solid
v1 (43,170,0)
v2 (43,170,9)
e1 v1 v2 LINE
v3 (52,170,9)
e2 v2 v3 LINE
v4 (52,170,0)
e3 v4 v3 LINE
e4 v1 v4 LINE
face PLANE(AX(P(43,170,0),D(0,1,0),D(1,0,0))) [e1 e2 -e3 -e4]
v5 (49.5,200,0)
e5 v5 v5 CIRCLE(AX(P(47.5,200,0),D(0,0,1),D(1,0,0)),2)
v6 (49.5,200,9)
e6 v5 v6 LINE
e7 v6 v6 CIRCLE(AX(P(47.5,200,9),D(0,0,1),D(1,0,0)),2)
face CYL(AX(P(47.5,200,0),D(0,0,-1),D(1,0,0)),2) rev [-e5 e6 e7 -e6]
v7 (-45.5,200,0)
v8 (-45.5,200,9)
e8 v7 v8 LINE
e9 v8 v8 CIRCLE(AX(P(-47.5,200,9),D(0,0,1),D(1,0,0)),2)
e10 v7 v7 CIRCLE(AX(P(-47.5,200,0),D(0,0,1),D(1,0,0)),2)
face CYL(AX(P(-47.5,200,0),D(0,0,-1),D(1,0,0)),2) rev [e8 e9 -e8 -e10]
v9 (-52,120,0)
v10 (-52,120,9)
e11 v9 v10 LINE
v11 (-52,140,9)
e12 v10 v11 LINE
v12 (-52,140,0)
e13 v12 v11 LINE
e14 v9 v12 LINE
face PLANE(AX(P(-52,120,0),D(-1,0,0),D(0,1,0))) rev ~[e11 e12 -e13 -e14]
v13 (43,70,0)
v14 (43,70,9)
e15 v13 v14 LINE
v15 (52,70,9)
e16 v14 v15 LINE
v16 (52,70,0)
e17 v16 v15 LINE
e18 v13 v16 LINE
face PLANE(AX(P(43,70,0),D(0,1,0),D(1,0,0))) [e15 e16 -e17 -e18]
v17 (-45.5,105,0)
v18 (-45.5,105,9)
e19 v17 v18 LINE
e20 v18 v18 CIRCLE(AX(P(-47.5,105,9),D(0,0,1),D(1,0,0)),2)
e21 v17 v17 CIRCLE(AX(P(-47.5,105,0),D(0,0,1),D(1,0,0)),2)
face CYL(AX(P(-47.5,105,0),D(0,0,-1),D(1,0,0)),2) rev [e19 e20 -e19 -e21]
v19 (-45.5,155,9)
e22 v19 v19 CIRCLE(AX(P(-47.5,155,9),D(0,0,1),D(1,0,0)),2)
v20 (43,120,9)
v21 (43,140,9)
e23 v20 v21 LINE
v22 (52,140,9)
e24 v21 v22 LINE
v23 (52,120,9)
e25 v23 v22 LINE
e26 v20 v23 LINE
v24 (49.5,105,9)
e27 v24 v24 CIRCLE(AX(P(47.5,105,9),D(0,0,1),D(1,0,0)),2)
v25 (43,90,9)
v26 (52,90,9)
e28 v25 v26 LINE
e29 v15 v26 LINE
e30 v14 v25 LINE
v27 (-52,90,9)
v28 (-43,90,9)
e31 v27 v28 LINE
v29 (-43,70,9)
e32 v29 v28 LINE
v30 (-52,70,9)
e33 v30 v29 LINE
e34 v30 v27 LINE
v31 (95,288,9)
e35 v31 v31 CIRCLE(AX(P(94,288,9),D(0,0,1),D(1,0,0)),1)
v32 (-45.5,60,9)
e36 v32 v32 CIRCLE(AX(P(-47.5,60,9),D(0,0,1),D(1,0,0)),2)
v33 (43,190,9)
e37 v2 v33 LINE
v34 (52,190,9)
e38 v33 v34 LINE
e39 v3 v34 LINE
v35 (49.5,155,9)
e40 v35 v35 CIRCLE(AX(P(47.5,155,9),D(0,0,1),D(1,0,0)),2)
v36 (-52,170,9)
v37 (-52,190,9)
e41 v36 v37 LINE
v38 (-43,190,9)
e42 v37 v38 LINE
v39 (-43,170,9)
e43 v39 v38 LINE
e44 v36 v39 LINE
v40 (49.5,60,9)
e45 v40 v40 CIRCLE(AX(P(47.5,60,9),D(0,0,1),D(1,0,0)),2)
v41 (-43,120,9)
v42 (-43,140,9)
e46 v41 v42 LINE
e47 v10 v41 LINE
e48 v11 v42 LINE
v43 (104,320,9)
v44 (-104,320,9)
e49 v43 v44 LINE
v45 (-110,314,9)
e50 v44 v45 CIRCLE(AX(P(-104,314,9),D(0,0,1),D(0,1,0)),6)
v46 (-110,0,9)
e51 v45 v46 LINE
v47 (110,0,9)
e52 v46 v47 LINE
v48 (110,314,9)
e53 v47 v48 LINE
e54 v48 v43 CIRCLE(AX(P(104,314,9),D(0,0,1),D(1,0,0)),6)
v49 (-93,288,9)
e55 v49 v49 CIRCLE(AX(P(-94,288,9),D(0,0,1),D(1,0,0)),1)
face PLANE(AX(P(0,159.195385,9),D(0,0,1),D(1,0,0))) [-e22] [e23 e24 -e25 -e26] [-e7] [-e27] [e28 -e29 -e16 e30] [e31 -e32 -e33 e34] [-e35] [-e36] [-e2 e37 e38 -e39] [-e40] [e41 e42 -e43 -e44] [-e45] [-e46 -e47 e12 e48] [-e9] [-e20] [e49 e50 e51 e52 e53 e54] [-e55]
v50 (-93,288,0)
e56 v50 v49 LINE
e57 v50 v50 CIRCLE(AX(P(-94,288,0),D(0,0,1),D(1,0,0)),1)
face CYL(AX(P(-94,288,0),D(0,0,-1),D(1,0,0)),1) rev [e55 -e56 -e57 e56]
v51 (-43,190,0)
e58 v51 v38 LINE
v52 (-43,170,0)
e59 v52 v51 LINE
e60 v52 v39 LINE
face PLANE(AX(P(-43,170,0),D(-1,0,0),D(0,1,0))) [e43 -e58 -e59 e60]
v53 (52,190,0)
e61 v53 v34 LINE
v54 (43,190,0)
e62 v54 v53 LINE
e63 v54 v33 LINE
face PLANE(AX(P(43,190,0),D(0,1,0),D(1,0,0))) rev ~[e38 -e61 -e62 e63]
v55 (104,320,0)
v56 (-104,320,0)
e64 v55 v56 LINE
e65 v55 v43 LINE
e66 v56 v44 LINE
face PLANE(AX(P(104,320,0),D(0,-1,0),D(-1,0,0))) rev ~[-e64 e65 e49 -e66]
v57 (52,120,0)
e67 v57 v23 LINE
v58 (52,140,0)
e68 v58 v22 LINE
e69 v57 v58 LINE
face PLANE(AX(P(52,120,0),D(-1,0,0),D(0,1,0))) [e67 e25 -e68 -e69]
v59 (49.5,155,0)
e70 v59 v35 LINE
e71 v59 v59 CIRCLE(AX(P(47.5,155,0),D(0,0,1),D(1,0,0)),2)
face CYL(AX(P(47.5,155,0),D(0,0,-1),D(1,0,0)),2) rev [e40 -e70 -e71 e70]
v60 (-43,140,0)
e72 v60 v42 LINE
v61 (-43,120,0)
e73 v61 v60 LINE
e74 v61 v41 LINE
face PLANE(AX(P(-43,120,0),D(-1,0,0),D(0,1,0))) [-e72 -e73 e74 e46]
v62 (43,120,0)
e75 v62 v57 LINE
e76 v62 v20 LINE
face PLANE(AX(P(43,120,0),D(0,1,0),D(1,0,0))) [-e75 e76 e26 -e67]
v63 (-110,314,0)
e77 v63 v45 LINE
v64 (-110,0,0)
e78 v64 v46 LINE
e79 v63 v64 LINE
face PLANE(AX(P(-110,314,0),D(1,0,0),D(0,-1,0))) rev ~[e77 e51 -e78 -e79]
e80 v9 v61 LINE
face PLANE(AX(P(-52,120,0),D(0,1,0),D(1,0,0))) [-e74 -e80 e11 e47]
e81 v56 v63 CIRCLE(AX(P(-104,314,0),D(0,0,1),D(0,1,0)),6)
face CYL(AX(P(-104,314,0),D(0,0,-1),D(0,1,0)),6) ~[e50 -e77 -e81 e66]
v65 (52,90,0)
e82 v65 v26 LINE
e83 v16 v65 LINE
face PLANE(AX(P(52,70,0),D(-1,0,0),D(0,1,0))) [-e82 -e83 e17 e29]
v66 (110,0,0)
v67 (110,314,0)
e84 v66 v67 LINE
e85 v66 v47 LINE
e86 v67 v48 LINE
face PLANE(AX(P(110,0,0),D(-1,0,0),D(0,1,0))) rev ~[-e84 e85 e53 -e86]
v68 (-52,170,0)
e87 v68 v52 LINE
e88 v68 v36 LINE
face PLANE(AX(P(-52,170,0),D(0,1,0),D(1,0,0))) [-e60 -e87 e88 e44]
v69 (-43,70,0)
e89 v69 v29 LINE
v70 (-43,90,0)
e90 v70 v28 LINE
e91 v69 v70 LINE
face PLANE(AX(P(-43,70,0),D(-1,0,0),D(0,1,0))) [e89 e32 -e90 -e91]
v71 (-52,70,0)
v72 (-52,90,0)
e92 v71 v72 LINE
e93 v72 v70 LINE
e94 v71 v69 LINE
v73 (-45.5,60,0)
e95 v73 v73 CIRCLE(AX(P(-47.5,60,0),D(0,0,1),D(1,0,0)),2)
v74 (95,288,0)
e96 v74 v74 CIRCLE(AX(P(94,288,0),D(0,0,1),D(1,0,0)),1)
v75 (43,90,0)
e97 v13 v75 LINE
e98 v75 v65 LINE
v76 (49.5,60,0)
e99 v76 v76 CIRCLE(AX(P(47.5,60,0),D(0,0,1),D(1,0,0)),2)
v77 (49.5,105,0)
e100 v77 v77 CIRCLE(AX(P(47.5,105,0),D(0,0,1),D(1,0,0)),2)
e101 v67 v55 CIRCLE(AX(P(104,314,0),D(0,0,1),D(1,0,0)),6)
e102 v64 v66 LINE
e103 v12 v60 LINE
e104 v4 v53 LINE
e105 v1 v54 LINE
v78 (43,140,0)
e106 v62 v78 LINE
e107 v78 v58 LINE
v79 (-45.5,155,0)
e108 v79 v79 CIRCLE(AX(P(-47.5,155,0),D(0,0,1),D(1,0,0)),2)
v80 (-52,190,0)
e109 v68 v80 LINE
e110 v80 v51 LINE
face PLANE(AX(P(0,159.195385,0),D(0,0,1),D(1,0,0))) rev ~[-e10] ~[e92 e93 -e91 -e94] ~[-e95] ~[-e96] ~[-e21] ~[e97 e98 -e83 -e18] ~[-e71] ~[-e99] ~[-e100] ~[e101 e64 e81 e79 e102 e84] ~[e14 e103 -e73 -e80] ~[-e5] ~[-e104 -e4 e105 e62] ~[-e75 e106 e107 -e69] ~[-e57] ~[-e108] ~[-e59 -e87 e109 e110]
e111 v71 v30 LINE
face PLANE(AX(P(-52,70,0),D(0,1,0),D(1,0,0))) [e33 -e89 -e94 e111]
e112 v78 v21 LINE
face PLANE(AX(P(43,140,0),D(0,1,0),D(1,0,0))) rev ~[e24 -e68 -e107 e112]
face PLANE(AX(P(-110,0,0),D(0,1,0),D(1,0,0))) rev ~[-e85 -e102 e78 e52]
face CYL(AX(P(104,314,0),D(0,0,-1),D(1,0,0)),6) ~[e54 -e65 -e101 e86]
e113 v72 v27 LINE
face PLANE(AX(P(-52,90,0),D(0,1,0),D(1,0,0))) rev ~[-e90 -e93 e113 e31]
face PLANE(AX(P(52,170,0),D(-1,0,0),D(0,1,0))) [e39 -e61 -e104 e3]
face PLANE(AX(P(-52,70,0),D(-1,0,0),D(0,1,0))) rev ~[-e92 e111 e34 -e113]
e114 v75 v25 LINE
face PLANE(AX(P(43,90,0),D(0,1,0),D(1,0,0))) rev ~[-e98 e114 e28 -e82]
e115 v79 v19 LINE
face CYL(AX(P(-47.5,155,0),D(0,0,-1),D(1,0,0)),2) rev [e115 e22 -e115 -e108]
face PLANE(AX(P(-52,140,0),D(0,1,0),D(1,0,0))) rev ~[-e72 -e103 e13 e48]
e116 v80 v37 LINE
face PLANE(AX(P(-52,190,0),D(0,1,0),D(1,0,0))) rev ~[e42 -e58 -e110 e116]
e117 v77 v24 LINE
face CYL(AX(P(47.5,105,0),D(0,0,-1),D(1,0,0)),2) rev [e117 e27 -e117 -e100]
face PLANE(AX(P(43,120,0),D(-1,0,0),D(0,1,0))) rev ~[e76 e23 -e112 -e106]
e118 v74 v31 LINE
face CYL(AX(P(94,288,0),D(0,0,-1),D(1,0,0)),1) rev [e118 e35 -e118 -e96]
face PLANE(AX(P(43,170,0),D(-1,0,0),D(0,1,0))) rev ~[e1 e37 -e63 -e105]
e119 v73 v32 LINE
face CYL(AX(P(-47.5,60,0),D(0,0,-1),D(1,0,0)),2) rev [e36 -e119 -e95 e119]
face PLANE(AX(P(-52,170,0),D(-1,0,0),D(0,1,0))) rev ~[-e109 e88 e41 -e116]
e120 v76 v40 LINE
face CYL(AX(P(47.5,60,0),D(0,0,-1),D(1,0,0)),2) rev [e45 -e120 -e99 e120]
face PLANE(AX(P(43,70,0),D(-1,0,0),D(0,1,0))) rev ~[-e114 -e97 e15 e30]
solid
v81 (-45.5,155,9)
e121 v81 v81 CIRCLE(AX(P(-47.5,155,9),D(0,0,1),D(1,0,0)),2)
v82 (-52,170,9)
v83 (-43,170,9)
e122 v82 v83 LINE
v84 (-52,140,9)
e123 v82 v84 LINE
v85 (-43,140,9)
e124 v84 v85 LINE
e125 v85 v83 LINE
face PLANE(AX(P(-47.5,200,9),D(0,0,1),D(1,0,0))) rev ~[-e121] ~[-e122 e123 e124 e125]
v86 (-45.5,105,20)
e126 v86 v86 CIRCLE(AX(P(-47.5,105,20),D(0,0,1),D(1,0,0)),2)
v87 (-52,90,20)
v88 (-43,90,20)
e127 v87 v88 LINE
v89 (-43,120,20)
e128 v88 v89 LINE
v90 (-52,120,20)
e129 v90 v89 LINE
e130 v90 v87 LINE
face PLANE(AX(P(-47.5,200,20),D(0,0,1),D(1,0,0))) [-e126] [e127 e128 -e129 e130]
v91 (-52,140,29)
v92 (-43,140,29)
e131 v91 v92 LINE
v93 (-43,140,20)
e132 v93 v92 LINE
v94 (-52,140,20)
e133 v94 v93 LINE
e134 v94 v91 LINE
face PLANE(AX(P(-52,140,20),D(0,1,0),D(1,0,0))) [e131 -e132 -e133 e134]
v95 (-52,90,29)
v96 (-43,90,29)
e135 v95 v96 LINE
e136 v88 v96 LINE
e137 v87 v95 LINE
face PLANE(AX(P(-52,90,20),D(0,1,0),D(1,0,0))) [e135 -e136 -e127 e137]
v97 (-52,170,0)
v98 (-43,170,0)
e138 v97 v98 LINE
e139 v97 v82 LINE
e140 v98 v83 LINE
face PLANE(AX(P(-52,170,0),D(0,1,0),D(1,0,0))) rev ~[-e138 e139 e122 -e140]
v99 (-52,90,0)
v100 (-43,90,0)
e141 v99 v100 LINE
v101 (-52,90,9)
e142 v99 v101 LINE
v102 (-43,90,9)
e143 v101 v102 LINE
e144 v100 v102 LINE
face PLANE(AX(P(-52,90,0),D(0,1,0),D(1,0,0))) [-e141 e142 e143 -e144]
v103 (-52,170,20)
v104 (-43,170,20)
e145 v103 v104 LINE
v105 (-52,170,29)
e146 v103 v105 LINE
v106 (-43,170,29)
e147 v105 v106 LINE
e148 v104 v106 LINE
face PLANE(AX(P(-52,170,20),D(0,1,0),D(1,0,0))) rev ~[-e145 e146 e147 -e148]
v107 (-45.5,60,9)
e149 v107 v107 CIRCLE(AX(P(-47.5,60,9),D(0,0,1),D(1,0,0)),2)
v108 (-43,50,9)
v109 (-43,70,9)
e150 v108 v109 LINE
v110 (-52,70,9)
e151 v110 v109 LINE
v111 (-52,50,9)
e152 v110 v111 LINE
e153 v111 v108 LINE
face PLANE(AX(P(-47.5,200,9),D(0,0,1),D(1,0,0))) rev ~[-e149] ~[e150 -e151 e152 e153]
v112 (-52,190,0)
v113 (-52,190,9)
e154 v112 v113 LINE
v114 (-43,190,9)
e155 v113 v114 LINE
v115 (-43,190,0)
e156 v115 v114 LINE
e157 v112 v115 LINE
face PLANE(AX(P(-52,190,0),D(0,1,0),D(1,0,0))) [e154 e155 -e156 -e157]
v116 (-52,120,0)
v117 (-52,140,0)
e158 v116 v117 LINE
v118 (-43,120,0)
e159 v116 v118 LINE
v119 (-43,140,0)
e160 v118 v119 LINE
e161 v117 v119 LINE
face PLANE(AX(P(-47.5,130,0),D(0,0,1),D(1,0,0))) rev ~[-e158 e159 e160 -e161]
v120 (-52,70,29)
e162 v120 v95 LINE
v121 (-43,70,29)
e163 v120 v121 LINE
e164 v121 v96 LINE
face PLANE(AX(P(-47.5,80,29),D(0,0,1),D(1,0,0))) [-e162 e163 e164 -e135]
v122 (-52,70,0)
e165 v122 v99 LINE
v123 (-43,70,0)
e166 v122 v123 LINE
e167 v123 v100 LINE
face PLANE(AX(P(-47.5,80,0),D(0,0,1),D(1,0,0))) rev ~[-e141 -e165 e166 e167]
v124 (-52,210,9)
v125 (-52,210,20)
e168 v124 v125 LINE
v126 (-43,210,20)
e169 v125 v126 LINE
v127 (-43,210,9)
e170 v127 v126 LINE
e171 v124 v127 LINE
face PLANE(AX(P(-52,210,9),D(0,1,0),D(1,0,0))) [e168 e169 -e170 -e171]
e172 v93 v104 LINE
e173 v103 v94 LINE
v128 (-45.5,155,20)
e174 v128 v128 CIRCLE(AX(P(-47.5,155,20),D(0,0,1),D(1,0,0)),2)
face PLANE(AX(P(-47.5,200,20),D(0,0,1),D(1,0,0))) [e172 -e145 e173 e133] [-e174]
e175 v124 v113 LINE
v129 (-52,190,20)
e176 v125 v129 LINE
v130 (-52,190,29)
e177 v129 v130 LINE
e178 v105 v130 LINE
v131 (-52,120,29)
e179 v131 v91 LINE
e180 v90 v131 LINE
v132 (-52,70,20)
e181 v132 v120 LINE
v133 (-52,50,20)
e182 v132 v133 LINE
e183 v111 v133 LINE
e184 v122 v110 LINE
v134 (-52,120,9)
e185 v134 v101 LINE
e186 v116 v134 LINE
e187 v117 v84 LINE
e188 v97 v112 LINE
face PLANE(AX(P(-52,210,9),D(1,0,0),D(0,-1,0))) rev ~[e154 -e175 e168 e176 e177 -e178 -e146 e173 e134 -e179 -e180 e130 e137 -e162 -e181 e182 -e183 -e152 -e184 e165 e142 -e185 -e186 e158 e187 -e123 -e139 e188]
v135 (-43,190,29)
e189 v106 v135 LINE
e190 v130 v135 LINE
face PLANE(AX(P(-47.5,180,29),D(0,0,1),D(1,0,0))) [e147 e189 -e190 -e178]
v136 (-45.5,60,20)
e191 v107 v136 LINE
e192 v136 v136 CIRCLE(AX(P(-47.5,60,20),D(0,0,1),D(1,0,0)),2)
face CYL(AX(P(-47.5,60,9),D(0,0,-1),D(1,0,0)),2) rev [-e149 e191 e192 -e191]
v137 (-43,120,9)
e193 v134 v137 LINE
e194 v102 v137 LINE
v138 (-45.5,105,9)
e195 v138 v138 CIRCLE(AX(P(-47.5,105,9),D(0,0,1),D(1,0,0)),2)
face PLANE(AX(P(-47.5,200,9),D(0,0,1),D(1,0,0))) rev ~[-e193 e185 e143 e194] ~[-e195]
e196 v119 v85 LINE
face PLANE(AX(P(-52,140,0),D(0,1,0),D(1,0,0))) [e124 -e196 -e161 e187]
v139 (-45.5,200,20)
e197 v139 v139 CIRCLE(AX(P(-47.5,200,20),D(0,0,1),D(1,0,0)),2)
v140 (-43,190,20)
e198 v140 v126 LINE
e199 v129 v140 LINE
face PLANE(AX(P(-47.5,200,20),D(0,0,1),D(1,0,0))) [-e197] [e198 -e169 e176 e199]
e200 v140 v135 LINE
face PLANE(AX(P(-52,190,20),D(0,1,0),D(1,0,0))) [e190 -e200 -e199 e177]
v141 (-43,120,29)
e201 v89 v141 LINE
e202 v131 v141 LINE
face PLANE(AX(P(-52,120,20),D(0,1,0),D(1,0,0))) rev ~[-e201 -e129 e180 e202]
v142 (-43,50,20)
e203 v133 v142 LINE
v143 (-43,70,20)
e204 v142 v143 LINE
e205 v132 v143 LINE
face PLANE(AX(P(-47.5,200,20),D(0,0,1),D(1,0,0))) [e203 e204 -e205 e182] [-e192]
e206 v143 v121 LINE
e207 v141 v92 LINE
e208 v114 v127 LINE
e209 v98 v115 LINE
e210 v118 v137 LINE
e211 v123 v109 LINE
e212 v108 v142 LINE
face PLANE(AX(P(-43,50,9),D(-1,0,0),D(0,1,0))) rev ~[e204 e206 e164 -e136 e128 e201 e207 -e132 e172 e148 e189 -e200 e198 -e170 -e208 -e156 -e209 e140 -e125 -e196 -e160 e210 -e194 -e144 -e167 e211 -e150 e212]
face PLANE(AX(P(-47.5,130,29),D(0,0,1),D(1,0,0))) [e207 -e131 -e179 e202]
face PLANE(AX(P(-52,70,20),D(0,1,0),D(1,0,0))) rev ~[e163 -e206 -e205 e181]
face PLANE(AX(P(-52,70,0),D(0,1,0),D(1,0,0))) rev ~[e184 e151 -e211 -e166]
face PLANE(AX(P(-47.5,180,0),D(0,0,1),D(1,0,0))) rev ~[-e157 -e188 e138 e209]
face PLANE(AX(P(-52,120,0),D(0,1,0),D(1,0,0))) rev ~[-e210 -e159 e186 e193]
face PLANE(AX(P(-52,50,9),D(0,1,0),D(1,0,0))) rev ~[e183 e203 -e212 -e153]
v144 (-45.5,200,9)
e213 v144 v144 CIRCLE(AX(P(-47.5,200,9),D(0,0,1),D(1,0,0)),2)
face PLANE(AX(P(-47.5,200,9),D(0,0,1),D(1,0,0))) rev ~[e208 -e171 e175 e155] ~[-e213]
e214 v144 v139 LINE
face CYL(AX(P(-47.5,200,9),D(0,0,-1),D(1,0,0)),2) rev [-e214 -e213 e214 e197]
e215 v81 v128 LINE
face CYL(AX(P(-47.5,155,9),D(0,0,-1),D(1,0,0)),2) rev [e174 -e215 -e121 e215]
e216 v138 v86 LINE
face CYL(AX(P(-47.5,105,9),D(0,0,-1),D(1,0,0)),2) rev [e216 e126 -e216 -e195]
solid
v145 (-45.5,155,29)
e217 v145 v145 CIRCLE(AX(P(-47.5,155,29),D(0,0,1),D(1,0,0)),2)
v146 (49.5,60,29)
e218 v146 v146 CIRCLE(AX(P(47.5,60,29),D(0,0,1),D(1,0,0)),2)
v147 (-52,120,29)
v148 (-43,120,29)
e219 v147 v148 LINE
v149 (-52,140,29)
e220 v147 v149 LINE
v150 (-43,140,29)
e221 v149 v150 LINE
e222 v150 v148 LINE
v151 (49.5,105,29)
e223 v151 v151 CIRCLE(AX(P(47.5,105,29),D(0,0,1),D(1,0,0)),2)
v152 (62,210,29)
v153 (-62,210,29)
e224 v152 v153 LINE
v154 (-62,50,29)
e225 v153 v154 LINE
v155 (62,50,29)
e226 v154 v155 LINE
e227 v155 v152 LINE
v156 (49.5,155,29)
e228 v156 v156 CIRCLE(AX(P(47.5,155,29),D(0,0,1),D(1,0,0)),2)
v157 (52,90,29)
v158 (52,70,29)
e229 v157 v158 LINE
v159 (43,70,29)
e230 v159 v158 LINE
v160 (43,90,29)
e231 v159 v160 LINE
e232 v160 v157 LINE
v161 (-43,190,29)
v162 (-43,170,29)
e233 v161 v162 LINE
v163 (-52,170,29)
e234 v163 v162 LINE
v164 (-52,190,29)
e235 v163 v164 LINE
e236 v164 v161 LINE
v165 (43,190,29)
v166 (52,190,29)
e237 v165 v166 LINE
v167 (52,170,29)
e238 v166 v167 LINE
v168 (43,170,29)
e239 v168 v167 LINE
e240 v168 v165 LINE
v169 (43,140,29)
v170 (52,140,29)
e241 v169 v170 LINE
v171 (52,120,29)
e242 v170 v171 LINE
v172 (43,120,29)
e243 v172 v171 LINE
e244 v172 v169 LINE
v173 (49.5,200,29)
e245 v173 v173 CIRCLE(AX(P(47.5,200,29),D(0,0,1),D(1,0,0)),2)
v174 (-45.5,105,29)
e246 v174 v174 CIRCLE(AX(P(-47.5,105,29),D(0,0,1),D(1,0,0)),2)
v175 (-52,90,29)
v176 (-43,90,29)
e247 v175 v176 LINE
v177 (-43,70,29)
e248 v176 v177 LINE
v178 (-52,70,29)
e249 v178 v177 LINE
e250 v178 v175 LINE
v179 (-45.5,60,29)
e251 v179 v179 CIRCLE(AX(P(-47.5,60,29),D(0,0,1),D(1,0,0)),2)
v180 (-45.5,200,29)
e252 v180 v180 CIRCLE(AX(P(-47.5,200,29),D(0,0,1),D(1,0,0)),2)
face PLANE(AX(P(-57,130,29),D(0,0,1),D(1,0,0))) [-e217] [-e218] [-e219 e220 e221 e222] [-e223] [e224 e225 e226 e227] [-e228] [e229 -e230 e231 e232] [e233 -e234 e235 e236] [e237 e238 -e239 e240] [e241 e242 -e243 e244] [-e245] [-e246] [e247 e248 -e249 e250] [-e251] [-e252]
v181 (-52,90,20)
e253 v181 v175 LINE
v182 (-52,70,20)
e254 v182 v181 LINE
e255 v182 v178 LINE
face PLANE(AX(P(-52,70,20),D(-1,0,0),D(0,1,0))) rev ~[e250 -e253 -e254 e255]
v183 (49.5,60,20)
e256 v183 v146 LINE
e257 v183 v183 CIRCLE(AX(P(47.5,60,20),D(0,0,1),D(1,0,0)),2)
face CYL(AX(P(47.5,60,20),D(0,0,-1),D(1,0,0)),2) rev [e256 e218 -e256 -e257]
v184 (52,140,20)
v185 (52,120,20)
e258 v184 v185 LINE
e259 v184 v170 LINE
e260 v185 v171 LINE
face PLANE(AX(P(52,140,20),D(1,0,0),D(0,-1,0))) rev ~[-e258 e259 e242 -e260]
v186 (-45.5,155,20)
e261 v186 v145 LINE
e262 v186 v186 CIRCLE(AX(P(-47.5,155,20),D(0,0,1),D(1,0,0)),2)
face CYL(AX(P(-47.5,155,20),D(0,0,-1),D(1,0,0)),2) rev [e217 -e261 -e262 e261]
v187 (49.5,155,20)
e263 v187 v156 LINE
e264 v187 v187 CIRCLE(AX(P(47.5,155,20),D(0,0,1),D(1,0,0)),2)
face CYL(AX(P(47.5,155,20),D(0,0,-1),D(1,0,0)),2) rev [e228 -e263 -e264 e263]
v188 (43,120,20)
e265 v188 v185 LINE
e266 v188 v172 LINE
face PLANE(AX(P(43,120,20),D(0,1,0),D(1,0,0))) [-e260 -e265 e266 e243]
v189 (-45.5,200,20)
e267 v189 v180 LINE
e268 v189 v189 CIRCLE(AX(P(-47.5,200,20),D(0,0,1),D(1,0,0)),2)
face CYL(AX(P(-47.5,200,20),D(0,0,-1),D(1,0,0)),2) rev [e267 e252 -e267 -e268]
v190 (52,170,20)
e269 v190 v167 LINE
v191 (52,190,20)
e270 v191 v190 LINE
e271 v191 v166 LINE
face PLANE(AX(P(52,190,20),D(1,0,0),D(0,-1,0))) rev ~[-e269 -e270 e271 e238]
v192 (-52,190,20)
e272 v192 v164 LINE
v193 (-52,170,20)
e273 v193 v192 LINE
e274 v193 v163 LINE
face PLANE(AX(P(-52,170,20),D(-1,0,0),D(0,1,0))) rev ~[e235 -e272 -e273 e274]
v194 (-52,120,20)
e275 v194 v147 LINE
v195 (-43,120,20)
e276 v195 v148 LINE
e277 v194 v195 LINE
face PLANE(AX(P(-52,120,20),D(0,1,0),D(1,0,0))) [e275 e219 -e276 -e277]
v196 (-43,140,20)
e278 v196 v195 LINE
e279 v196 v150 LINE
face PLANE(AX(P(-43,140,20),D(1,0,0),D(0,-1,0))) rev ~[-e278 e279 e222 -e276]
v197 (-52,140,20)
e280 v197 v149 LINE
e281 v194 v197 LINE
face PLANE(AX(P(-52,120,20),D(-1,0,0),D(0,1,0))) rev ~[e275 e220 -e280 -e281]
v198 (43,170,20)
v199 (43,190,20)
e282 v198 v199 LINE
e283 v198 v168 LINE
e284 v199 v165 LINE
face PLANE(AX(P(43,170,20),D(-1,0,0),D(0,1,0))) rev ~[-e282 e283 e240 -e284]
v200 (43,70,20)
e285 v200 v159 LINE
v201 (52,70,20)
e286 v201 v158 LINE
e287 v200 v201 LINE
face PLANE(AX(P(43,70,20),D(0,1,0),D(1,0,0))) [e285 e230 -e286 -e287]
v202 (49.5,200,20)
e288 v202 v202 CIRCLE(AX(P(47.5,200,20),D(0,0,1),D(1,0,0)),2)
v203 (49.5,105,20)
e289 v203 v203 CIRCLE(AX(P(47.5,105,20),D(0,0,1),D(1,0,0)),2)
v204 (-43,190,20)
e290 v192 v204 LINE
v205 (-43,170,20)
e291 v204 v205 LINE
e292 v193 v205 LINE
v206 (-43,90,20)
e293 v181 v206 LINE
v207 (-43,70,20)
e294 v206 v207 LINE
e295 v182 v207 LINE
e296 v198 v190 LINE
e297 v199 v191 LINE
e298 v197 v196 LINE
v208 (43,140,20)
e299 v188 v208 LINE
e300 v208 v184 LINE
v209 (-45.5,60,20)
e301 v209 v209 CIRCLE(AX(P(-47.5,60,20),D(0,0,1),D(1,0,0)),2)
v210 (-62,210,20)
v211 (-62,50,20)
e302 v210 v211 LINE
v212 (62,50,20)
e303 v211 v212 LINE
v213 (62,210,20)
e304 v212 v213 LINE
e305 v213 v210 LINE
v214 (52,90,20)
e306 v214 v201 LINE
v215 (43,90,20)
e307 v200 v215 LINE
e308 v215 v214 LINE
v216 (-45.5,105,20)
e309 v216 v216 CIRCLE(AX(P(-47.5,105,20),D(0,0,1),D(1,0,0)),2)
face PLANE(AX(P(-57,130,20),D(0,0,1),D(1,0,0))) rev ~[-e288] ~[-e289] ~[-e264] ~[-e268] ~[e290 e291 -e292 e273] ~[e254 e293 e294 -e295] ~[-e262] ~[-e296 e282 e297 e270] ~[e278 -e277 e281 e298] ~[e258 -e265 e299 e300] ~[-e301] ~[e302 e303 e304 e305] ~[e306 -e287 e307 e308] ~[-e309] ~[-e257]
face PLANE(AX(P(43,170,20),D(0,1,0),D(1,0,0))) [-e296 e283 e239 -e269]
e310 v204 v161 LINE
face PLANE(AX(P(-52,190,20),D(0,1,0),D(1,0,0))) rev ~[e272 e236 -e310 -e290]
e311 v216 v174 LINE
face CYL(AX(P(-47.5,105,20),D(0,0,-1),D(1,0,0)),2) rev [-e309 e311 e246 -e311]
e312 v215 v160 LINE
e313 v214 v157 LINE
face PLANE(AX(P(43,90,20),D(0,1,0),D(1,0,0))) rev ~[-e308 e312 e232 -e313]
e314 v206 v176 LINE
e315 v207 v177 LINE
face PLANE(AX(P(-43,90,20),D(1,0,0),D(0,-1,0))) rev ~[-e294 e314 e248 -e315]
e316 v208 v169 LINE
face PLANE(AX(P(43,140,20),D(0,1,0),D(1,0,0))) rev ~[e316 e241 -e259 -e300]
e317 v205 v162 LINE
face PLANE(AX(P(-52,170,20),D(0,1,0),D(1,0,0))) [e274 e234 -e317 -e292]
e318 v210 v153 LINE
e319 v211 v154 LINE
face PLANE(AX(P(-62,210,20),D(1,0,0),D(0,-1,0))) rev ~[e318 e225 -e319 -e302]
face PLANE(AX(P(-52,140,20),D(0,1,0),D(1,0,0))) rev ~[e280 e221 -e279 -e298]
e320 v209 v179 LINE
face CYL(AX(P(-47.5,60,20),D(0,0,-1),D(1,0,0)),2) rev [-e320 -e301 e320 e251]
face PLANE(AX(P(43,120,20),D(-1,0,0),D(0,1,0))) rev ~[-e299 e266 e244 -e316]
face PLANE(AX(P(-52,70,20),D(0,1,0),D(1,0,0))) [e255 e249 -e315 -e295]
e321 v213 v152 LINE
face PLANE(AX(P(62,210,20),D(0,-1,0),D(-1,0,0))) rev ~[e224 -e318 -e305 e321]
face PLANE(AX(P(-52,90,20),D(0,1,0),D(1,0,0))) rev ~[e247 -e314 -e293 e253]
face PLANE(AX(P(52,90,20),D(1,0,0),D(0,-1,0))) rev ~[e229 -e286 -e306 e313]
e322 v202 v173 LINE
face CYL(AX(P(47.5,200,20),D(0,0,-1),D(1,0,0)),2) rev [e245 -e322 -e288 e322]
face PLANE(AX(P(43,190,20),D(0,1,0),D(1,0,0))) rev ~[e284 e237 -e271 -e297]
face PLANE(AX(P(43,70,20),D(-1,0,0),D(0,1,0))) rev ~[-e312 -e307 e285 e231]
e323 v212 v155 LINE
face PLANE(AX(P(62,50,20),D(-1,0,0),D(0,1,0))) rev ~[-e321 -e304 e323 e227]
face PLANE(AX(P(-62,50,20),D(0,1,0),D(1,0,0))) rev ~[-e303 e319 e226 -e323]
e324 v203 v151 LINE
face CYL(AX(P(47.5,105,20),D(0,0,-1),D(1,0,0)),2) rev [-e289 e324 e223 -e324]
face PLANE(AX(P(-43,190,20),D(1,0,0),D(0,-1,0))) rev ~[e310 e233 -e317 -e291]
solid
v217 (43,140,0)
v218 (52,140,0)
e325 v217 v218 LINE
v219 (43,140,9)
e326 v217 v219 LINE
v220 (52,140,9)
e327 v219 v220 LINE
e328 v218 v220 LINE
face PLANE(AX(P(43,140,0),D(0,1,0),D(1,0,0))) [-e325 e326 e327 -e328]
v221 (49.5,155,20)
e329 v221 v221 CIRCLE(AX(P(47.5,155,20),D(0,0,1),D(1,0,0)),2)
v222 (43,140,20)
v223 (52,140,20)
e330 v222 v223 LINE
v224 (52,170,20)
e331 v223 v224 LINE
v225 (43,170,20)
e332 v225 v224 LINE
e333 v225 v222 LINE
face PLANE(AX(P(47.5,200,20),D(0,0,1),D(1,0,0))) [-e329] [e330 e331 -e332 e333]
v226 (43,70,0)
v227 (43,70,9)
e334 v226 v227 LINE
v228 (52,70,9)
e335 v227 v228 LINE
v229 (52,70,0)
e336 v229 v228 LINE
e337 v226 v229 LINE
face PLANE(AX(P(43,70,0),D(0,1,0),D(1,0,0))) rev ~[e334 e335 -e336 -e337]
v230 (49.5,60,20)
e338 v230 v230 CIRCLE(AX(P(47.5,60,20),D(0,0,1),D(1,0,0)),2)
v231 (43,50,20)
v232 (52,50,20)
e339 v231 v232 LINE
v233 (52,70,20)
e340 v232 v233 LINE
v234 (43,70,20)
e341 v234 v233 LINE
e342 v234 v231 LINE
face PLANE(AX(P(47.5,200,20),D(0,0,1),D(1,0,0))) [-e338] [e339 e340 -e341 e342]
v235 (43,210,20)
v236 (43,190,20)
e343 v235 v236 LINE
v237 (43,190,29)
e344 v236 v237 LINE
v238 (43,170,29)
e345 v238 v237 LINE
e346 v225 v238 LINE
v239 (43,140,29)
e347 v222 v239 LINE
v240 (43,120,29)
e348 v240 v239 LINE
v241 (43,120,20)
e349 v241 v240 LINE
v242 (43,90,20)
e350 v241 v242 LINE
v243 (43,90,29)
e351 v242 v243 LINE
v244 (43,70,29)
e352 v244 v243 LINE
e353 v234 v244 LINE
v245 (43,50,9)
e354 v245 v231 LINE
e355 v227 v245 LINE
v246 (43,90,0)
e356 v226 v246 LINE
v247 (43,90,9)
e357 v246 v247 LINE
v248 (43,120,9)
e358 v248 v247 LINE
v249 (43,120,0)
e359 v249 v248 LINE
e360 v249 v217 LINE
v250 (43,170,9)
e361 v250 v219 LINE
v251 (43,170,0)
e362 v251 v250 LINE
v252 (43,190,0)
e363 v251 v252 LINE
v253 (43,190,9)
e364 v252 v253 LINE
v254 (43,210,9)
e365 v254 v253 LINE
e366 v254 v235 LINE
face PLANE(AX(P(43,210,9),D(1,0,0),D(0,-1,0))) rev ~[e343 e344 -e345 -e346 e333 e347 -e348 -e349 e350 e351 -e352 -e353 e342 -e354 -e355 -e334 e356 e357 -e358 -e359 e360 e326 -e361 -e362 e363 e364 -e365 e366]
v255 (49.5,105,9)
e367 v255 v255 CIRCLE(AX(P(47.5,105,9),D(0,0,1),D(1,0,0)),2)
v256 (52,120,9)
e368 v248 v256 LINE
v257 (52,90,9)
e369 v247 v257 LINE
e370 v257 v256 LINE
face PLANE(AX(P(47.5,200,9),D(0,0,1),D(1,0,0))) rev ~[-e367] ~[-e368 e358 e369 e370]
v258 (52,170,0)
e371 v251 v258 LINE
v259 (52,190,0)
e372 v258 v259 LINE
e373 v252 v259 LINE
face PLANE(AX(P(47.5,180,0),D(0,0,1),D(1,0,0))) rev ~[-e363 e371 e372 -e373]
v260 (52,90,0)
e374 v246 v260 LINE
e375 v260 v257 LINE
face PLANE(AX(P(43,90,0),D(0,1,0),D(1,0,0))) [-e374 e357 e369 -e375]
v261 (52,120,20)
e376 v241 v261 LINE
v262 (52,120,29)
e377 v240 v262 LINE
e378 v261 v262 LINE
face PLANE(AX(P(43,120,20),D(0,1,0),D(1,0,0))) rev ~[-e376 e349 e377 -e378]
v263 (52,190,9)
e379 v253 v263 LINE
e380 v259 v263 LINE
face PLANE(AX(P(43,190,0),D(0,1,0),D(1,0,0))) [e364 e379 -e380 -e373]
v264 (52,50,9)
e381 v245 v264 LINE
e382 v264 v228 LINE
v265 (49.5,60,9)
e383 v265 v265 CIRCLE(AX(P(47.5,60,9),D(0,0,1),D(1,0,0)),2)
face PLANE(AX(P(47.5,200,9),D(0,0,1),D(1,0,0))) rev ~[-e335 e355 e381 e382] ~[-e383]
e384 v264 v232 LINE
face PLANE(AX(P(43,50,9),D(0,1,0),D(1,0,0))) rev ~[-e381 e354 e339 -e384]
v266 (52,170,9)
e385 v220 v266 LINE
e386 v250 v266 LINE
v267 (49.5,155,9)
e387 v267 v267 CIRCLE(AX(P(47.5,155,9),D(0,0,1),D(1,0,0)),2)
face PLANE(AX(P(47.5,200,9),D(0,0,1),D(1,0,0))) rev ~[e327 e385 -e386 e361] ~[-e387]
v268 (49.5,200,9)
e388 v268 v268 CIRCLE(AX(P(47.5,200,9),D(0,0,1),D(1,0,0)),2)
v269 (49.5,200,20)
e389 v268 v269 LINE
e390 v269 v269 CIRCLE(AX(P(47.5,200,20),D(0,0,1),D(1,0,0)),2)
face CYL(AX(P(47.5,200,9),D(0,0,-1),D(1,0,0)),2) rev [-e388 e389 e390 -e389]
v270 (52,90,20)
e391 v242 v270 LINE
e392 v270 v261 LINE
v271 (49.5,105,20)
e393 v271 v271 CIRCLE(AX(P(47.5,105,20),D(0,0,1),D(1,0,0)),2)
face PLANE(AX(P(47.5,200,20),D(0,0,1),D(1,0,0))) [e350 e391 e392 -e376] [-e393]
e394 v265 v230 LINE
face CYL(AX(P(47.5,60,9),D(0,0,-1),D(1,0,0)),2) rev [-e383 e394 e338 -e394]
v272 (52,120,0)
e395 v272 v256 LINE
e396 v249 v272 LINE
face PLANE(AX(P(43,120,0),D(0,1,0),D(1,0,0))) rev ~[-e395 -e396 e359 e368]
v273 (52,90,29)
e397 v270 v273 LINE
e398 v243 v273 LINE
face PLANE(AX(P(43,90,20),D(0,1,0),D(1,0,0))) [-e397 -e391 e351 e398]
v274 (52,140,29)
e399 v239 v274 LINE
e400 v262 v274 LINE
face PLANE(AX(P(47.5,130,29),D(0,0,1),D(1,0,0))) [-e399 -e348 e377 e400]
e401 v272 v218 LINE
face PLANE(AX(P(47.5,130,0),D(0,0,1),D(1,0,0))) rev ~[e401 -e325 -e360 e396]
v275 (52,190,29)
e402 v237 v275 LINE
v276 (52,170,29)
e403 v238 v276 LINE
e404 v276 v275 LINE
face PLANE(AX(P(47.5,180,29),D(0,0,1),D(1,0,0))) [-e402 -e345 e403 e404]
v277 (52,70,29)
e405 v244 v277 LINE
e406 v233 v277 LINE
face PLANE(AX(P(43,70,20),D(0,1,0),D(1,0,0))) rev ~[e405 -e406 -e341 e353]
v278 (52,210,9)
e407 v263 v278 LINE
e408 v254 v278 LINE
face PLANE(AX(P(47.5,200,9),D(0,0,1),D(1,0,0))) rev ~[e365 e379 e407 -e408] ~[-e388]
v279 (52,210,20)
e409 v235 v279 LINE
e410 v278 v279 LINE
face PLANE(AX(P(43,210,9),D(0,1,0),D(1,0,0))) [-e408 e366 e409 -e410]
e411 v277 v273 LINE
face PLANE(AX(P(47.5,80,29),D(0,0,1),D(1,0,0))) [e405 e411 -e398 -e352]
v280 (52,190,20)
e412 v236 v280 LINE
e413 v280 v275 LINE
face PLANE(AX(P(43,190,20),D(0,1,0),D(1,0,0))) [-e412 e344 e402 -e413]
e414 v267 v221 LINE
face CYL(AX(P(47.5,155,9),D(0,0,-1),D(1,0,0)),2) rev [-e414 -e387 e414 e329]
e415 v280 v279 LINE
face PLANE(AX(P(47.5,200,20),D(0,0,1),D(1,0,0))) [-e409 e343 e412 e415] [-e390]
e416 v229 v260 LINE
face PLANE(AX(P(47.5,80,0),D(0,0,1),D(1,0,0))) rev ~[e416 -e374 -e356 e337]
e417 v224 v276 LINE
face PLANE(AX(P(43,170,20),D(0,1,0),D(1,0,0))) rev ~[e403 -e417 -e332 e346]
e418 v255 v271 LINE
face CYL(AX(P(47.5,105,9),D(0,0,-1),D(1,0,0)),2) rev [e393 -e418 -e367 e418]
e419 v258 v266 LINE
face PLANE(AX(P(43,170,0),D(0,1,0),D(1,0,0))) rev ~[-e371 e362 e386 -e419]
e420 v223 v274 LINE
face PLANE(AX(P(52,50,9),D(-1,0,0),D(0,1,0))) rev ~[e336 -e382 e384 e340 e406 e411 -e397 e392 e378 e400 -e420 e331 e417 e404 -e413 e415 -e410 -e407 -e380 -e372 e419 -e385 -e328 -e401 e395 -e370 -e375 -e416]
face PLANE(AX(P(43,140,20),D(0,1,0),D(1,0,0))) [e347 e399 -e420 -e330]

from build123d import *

# Parameters (mm, degrees)
MODEL_R            = 1
MODEL_W            = 124
MODEL_H            = 160
MODEL_R_2          = 2
MODEL_W_2          = 9
MODEL_H_2          = 20
MODEL_H_3          = 30
BOSS_EXTRU_1_DEPTH = 9
BOSS_EXTRU_3_START = 9
MODEL_3_W          = 9
MODEL_3_H          = 20
MODEL_3_R          = 2
MODEL_3_H_2        = 30
BOSS_EXTRU_3_DEPTH = 11
MODEL_4_W          = 9
MODEL_4_H          = 20
BOSS_EXTRU_4_DEPTH = 9
MODEL_5_W          = 9
MODEL_5_H          = 20
BOSS_EXTRU_5_DEPTH = 9
BOSS_EXTRU_6_START = 20
MODEL_7_W          = 9
MODEL_7_H          = 20
MODEL_7_R          = 2
MODEL_7_H_2        = 30
BOSS_EXTRU_6_DEPTH = 9
BOSS_EXTRU_7_START = 20
MODEL_8_W          = 9
MODEL_8_H          = 20
BOSS_EXTRU_7_DEPTH = 9
BOSS_EXTRU_8_START = 20
MODEL_9_W          = 9
MODEL_9_H          = 20
BOSS_EXTRU_8_DEPTH = 9


with BuildPart() as part:
    # Model → Boss.-Extru.1 (new body)
    with BuildSketch(Plane.XY):
        with BuildLine():
            Line((110, 0), (110, 314))
            ThreePointArc((110, 314), (108.242640687, 318.242640687), (104, 320))
            Line((104, 320), (0, 320))
            Line((0, 320), (-104, 320))
            ThreePointArc((-104, 320), (-108.242640687, 318.242640687), (-110, 314))
            Line((-110, 314), (-110, 0))
            Line((-110, 0), (0, 0))
            Line((0, 0), (110, 0))
        make_face()
        with Locations((94, 288)):
            Circle(MODEL_R, mode=Mode.SUBTRACT)
        with Locations((-94, 288)):
            Circle(MODEL_R, mode=Mode.SUBTRACT)
        with Locations((0, 130)):
            Rectangle(MODEL_W, MODEL_H, mode=Mode.SUBTRACT)
        with Locations((0, 130)):
            Rectangle(MODEL_W, MODEL_H)
        with Locations((47.5, 155)):
            Circle(MODEL_R_2, mode=Mode.SUBTRACT)
        with Locations((47.5, 60)):
            Circle(MODEL_R_2, mode=Mode.SUBTRACT)
        with Locations((-47.5, 60)):
            Circle(MODEL_R_2, mode=Mode.SUBTRACT)
        with Locations((-47.5, 105)):
            Circle(MODEL_R_2, mode=Mode.SUBTRACT)
        with Locations((-47.5, 155)):
            Circle(MODEL_R_2, mode=Mode.SUBTRACT)
        with Locations((-47.5, 200)):
            Circle(MODEL_R_2, mode=Mode.SUBTRACT)
        with Locations((47.5, 105)):
            Circle(MODEL_R_2, mode=Mode.SUBTRACT)
        with Locations((47.5, 200)):
            Circle(MODEL_R_2, mode=Mode.SUBTRACT)
        with Locations((-47.5, 130)):
            Rectangle(MODEL_W_2, MODEL_H_2, mode=Mode.SUBTRACT)
        with Locations((-47.5, 80)):
            Rectangle(MODEL_W_2, MODEL_H_2, mode=Mode.SUBTRACT)
        with Locations((-47.5, 180)):
            Rectangle(MODEL_W_2, MODEL_H_2, mode=Mode.SUBTRACT)
        with Locations((47.5, 130)):
            Rectangle(MODEL_W_2, MODEL_H_2, mode=Mode.SUBTRACT)
        with Locations((47.5, 80)):
            Rectangle(MODEL_W_2, MODEL_H_2, mode=Mode.SUBTRACT)
        with Locations((47.5, 180)):
            Rectangle(MODEL_W_2, MODEL_H_2, mode=Mode.SUBTRACT)
        Polygon((-52, 170), (-52, 190), (-52, 210), (-62, 210), (-62, 50), (-52, 50), (-52, 70), (-52, 90), (-52, 120), (-52, 140), align=None)
        with Locations((-47.5, 200)):
            Rectangle(MODEL_W_2, MODEL_H_2)
        with Locations((-47.5, 200)):
            Circle(MODEL_R_2, mode=Mode.SUBTRACT)
        with Locations((-47.5, 155)):
            Rectangle(MODEL_W_2, MODEL_H_3)
        with Locations((-47.5, 155)):
            Circle(MODEL_R_2, mode=Mode.SUBTRACT)
        with Locations((-47.5, 105)):
            Rectangle(MODEL_W_2, MODEL_H_3)
        with Locations((-47.5, 105)):
            Circle(MODEL_R_2, mode=Mode.SUBTRACT)
        with Locations((-47.5, 60)):
            Rectangle(MODEL_W_2, MODEL_H_2)
        with Locations((-47.5, 60)):
            Circle(MODEL_R_2, mode=Mode.SUBTRACT)
        Polygon((62, 210), (52, 210), (52, 190), (52, 170), (52, 140), (52, 120), (52, 90), (52, 70), (52, 50), (62, 50), align=None)
        with Locations((47.5, 60)):
            Rectangle(MODEL_W_2, MODEL_H_2)
        with Locations((47.5, 60)):
            Circle(MODEL_R_2, mode=Mode.SUBTRACT)
        with Locations((47.5, 105)):
            Rectangle(MODEL_W_2, MODEL_H_3)
        with Locations((47.5, 105)):
            Circle(MODEL_R_2, mode=Mode.SUBTRACT)
        with Locations((47.5, 155)):
            Rectangle(MODEL_W_2, MODEL_H_3)
        with Locations((47.5, 155)):
            Circle(MODEL_R_2, mode=Mode.SUBTRACT)
        with Locations((47.5, 200)):
            Rectangle(MODEL_W_2, MODEL_H_2)
        with Locations((47.5, 200)):
            Circle(MODEL_R_2, mode=Mode.SUBTRACT)
    extrude(amount=BOSS_EXTRU_1_DEPTH)


with BuildPart() as body_2:
    # Model<3> → Boss.-Extru.3 (new body)
    with BuildSketch(Plane.XY.offset(BOSS_EXTRU_3_START)):
        with Locations((-47.5, 200)):
            Rectangle(MODEL_3_W, MODEL_3_H)
        with Locations((-47.5, 200)):
            Circle(MODEL_3_R, mode=Mode.SUBTRACT)
        with Locations((-47.5, 155)):
            Rectangle(MODEL_3_W, MODEL_3_H_2)
        with Locations((-47.5, 155)):
            Circle(MODEL_3_R, mode=Mode.SUBTRACT)
        with Locations((-47.5, 105)):
            Rectangle(MODEL_3_W, MODEL_3_H_2)
        with Locations((-47.5, 105)):
            Circle(MODEL_3_R, mode=Mode.SUBTRACT)
        with Locations((-47.5, 60)):
            Rectangle(MODEL_3_W, MODEL_3_H)
        with Locations((-47.5, 60)):
            Circle(MODEL_3_R, mode=Mode.SUBTRACT)
        with Locations((-47.5, 80)):
            Rectangle(MODEL_3_W, MODEL_3_H)
        with Locations((-47.5, 130)):
            Rectangle(MODEL_3_W, MODEL_3_H)
        with Locations((-47.5, 180)):
            Rectangle(MODEL_3_W, MODEL_3_H)
        with Locations((47.5, 200)):
            Rectangle(MODEL_3_W, MODEL_3_H)
        with Locations((47.5, 200)):
            Circle(MODEL_3_R, mode=Mode.SUBTRACT)
        with Locations((47.5, 180)):
            Rectangle(MODEL_3_W, MODEL_3_H)
        with Locations((47.5, 155)):
            Rectangle(MODEL_3_W, MODEL_3_H_2)
        with Locations((47.5, 155)):
            Circle(MODEL_3_R, mode=Mode.SUBTRACT)
        with Locations((47.5, 130)):
            Rectangle(MODEL_3_W, MODEL_3_H)
        with Locations((47.5, 105)):
            Rectangle(MODEL_3_W, MODEL_3_H_2)
        with Locations((47.5, 105)):
            Circle(MODEL_3_R, mode=Mode.SUBTRACT)
        with Locations((47.5, 80)):
            Rectangle(MODEL_3_W, MODEL_3_H)
        with Locations((47.5, 60)):
            Rectangle(MODEL_3_W, MODEL_3_H)
        with Locations((47.5, 60)):
            Circle(MODEL_3_R, mode=Mode.SUBTRACT)
    extrude(amount=BOSS_EXTRU_3_DEPTH)

    # Model<4> → Boss.-Extru.4 (add)
    with BuildSketch(Plane.XY):
        with Locations((-47.5, 180)):
            Rectangle(MODEL_4_W, MODEL_4_H)
        with Locations((-47.5, 130)):
            Rectangle(MODEL_4_W, MODEL_4_H)
        with Locations((-47.5, 80)):
            Rectangle(MODEL_4_W, MODEL_4_H)
    extrude(amount=BOSS_EXTRU_4_DEPTH)

    # Model<5> → Boss.-Extru.5 (add)
    with BuildSketch(Plane.XY):
        with Locations((47.5, 180)):
            Rectangle(MODEL_5_W, MODEL_5_H)
        with Locations((47.5, 130)):
            Rectangle(MODEL_5_W, MODEL_5_H)
        with Locations((47.5, 80)):
            Rectangle(MODEL_5_W, MODEL_5_H)
    extrude(amount=BOSS_EXTRU_5_DEPTH)

    # Model<8> → Boss.-Extru.7 (add)
    with BuildSketch(Plane.XY.offset(BOSS_EXTRU_7_START)):
        with Locations((-47.5, 130)):
            Rectangle(MODEL_8_W, MODEL_8_H)
        with Locations((-47.5, 80)):
            Rectangle(MODEL_8_W, MODEL_8_H)
        with Locations((-47.5, 180)):
            Rectangle(MODEL_8_W, MODEL_8_H)
    extrude(amount=BOSS_EXTRU_7_DEPTH)

    # Model<9> → Boss.-Extru.8 (add)
    with BuildSketch(Plane.XY.offset(BOSS_EXTRU_8_START)):
        with Locations((47.5, 180)):
            Rectangle(MODEL_9_W, MODEL_9_H)
        with Locations((47.5, 80)):
            Rectangle(MODEL_9_W, MODEL_9_H)
        with Locations((47.5, 130)):
            Rectangle(MODEL_9_W, MODEL_9_H)
    extrude(amount=BOSS_EXTRU_8_DEPTH)


with BuildPart() as body_3:
    # Model<7> → Boss.-Extru.6 (new body)
    with BuildSketch(Plane.XY.offset(BOSS_EXTRU_6_START)):
        Polygon((-52, 170), (-52, 190), (-52, 210), (-62, 210), (-62, 50), (-52, 50), (-52, 70), (-52, 90), (-52, 120), (-52, 140), align=None)
        with Locations((-47.5, 200)):
            Rectangle(MODEL_7_W, MODEL_7_H)
        with Locations((-47.5, 200)):
            Circle(MODEL_7_R, mode=Mode.SUBTRACT)
        with Locations((-47.5, 155)):
            Rectangle(MODEL_7_W, MODEL_7_H_2)
        with Locations((-47.5, 155)):
            Circle(MODEL_7_R, mode=Mode.SUBTRACT)
        with Locations((-47.5, 105)):
            Rectangle(MODEL_7_W, MODEL_7_H_2)
        with Locations((-47.5, 105)):
            Circle(MODEL_7_R, mode=Mode.SUBTRACT)
        with Locations((-47.5, 60)):
            Rectangle(MODEL_7_W, MODEL_7_H)
        with Locations((-47.5, 60)):
            Circle(MODEL_7_R, mode=Mode.SUBTRACT)
        Polygon((-43, 210), (-43, 190), (-43, 170), (-43, 140), (-43, 120), (-43, 90), (-43, 70), (-43, 50), (43, 50), (43, 70), (43, 90), (43, 120), (43, 140), (43, 170), (43, 190), (43, 210), align=None)
        with Locations((47.5, 200)):
            Rectangle(MODEL_7_W, MODEL_7_H)
        with Locations((47.5, 200)):
            Circle(MODEL_7_R, mode=Mode.SUBTRACT)
        Polygon((62, 210), (52, 210), (52, 190), (52, 170), (52, 140), (52, 120), (52, 90), (52, 70), (52, 50), (62, 50), align=None)
        with Locations((47.5, 155)):
            Rectangle(MODEL_7_W, MODEL_7_H_2)
        with Locations((47.5, 155)):
            Circle(MODEL_7_R, mode=Mode.SUBTRACT)
        with Locations((47.5, 105)):
            Rectangle(MODEL_7_W, MODEL_7_H_2)
        with Locations((47.5, 105)):
            Circle(MODEL_7_R, mode=Mode.SUBTRACT)
        with Locations((47.5, 60)):
            Rectangle(MODEL_7_W, MODEL_7_H)
        with Locations((47.5, 60)):
            Circle(MODEL_7_R, mode=Mode.SUBTRACT)
    extrude(amount=BOSS_EXTRU_6_DEPTH)


solid = Compound([part.part, body_2.part, body_3.part])
